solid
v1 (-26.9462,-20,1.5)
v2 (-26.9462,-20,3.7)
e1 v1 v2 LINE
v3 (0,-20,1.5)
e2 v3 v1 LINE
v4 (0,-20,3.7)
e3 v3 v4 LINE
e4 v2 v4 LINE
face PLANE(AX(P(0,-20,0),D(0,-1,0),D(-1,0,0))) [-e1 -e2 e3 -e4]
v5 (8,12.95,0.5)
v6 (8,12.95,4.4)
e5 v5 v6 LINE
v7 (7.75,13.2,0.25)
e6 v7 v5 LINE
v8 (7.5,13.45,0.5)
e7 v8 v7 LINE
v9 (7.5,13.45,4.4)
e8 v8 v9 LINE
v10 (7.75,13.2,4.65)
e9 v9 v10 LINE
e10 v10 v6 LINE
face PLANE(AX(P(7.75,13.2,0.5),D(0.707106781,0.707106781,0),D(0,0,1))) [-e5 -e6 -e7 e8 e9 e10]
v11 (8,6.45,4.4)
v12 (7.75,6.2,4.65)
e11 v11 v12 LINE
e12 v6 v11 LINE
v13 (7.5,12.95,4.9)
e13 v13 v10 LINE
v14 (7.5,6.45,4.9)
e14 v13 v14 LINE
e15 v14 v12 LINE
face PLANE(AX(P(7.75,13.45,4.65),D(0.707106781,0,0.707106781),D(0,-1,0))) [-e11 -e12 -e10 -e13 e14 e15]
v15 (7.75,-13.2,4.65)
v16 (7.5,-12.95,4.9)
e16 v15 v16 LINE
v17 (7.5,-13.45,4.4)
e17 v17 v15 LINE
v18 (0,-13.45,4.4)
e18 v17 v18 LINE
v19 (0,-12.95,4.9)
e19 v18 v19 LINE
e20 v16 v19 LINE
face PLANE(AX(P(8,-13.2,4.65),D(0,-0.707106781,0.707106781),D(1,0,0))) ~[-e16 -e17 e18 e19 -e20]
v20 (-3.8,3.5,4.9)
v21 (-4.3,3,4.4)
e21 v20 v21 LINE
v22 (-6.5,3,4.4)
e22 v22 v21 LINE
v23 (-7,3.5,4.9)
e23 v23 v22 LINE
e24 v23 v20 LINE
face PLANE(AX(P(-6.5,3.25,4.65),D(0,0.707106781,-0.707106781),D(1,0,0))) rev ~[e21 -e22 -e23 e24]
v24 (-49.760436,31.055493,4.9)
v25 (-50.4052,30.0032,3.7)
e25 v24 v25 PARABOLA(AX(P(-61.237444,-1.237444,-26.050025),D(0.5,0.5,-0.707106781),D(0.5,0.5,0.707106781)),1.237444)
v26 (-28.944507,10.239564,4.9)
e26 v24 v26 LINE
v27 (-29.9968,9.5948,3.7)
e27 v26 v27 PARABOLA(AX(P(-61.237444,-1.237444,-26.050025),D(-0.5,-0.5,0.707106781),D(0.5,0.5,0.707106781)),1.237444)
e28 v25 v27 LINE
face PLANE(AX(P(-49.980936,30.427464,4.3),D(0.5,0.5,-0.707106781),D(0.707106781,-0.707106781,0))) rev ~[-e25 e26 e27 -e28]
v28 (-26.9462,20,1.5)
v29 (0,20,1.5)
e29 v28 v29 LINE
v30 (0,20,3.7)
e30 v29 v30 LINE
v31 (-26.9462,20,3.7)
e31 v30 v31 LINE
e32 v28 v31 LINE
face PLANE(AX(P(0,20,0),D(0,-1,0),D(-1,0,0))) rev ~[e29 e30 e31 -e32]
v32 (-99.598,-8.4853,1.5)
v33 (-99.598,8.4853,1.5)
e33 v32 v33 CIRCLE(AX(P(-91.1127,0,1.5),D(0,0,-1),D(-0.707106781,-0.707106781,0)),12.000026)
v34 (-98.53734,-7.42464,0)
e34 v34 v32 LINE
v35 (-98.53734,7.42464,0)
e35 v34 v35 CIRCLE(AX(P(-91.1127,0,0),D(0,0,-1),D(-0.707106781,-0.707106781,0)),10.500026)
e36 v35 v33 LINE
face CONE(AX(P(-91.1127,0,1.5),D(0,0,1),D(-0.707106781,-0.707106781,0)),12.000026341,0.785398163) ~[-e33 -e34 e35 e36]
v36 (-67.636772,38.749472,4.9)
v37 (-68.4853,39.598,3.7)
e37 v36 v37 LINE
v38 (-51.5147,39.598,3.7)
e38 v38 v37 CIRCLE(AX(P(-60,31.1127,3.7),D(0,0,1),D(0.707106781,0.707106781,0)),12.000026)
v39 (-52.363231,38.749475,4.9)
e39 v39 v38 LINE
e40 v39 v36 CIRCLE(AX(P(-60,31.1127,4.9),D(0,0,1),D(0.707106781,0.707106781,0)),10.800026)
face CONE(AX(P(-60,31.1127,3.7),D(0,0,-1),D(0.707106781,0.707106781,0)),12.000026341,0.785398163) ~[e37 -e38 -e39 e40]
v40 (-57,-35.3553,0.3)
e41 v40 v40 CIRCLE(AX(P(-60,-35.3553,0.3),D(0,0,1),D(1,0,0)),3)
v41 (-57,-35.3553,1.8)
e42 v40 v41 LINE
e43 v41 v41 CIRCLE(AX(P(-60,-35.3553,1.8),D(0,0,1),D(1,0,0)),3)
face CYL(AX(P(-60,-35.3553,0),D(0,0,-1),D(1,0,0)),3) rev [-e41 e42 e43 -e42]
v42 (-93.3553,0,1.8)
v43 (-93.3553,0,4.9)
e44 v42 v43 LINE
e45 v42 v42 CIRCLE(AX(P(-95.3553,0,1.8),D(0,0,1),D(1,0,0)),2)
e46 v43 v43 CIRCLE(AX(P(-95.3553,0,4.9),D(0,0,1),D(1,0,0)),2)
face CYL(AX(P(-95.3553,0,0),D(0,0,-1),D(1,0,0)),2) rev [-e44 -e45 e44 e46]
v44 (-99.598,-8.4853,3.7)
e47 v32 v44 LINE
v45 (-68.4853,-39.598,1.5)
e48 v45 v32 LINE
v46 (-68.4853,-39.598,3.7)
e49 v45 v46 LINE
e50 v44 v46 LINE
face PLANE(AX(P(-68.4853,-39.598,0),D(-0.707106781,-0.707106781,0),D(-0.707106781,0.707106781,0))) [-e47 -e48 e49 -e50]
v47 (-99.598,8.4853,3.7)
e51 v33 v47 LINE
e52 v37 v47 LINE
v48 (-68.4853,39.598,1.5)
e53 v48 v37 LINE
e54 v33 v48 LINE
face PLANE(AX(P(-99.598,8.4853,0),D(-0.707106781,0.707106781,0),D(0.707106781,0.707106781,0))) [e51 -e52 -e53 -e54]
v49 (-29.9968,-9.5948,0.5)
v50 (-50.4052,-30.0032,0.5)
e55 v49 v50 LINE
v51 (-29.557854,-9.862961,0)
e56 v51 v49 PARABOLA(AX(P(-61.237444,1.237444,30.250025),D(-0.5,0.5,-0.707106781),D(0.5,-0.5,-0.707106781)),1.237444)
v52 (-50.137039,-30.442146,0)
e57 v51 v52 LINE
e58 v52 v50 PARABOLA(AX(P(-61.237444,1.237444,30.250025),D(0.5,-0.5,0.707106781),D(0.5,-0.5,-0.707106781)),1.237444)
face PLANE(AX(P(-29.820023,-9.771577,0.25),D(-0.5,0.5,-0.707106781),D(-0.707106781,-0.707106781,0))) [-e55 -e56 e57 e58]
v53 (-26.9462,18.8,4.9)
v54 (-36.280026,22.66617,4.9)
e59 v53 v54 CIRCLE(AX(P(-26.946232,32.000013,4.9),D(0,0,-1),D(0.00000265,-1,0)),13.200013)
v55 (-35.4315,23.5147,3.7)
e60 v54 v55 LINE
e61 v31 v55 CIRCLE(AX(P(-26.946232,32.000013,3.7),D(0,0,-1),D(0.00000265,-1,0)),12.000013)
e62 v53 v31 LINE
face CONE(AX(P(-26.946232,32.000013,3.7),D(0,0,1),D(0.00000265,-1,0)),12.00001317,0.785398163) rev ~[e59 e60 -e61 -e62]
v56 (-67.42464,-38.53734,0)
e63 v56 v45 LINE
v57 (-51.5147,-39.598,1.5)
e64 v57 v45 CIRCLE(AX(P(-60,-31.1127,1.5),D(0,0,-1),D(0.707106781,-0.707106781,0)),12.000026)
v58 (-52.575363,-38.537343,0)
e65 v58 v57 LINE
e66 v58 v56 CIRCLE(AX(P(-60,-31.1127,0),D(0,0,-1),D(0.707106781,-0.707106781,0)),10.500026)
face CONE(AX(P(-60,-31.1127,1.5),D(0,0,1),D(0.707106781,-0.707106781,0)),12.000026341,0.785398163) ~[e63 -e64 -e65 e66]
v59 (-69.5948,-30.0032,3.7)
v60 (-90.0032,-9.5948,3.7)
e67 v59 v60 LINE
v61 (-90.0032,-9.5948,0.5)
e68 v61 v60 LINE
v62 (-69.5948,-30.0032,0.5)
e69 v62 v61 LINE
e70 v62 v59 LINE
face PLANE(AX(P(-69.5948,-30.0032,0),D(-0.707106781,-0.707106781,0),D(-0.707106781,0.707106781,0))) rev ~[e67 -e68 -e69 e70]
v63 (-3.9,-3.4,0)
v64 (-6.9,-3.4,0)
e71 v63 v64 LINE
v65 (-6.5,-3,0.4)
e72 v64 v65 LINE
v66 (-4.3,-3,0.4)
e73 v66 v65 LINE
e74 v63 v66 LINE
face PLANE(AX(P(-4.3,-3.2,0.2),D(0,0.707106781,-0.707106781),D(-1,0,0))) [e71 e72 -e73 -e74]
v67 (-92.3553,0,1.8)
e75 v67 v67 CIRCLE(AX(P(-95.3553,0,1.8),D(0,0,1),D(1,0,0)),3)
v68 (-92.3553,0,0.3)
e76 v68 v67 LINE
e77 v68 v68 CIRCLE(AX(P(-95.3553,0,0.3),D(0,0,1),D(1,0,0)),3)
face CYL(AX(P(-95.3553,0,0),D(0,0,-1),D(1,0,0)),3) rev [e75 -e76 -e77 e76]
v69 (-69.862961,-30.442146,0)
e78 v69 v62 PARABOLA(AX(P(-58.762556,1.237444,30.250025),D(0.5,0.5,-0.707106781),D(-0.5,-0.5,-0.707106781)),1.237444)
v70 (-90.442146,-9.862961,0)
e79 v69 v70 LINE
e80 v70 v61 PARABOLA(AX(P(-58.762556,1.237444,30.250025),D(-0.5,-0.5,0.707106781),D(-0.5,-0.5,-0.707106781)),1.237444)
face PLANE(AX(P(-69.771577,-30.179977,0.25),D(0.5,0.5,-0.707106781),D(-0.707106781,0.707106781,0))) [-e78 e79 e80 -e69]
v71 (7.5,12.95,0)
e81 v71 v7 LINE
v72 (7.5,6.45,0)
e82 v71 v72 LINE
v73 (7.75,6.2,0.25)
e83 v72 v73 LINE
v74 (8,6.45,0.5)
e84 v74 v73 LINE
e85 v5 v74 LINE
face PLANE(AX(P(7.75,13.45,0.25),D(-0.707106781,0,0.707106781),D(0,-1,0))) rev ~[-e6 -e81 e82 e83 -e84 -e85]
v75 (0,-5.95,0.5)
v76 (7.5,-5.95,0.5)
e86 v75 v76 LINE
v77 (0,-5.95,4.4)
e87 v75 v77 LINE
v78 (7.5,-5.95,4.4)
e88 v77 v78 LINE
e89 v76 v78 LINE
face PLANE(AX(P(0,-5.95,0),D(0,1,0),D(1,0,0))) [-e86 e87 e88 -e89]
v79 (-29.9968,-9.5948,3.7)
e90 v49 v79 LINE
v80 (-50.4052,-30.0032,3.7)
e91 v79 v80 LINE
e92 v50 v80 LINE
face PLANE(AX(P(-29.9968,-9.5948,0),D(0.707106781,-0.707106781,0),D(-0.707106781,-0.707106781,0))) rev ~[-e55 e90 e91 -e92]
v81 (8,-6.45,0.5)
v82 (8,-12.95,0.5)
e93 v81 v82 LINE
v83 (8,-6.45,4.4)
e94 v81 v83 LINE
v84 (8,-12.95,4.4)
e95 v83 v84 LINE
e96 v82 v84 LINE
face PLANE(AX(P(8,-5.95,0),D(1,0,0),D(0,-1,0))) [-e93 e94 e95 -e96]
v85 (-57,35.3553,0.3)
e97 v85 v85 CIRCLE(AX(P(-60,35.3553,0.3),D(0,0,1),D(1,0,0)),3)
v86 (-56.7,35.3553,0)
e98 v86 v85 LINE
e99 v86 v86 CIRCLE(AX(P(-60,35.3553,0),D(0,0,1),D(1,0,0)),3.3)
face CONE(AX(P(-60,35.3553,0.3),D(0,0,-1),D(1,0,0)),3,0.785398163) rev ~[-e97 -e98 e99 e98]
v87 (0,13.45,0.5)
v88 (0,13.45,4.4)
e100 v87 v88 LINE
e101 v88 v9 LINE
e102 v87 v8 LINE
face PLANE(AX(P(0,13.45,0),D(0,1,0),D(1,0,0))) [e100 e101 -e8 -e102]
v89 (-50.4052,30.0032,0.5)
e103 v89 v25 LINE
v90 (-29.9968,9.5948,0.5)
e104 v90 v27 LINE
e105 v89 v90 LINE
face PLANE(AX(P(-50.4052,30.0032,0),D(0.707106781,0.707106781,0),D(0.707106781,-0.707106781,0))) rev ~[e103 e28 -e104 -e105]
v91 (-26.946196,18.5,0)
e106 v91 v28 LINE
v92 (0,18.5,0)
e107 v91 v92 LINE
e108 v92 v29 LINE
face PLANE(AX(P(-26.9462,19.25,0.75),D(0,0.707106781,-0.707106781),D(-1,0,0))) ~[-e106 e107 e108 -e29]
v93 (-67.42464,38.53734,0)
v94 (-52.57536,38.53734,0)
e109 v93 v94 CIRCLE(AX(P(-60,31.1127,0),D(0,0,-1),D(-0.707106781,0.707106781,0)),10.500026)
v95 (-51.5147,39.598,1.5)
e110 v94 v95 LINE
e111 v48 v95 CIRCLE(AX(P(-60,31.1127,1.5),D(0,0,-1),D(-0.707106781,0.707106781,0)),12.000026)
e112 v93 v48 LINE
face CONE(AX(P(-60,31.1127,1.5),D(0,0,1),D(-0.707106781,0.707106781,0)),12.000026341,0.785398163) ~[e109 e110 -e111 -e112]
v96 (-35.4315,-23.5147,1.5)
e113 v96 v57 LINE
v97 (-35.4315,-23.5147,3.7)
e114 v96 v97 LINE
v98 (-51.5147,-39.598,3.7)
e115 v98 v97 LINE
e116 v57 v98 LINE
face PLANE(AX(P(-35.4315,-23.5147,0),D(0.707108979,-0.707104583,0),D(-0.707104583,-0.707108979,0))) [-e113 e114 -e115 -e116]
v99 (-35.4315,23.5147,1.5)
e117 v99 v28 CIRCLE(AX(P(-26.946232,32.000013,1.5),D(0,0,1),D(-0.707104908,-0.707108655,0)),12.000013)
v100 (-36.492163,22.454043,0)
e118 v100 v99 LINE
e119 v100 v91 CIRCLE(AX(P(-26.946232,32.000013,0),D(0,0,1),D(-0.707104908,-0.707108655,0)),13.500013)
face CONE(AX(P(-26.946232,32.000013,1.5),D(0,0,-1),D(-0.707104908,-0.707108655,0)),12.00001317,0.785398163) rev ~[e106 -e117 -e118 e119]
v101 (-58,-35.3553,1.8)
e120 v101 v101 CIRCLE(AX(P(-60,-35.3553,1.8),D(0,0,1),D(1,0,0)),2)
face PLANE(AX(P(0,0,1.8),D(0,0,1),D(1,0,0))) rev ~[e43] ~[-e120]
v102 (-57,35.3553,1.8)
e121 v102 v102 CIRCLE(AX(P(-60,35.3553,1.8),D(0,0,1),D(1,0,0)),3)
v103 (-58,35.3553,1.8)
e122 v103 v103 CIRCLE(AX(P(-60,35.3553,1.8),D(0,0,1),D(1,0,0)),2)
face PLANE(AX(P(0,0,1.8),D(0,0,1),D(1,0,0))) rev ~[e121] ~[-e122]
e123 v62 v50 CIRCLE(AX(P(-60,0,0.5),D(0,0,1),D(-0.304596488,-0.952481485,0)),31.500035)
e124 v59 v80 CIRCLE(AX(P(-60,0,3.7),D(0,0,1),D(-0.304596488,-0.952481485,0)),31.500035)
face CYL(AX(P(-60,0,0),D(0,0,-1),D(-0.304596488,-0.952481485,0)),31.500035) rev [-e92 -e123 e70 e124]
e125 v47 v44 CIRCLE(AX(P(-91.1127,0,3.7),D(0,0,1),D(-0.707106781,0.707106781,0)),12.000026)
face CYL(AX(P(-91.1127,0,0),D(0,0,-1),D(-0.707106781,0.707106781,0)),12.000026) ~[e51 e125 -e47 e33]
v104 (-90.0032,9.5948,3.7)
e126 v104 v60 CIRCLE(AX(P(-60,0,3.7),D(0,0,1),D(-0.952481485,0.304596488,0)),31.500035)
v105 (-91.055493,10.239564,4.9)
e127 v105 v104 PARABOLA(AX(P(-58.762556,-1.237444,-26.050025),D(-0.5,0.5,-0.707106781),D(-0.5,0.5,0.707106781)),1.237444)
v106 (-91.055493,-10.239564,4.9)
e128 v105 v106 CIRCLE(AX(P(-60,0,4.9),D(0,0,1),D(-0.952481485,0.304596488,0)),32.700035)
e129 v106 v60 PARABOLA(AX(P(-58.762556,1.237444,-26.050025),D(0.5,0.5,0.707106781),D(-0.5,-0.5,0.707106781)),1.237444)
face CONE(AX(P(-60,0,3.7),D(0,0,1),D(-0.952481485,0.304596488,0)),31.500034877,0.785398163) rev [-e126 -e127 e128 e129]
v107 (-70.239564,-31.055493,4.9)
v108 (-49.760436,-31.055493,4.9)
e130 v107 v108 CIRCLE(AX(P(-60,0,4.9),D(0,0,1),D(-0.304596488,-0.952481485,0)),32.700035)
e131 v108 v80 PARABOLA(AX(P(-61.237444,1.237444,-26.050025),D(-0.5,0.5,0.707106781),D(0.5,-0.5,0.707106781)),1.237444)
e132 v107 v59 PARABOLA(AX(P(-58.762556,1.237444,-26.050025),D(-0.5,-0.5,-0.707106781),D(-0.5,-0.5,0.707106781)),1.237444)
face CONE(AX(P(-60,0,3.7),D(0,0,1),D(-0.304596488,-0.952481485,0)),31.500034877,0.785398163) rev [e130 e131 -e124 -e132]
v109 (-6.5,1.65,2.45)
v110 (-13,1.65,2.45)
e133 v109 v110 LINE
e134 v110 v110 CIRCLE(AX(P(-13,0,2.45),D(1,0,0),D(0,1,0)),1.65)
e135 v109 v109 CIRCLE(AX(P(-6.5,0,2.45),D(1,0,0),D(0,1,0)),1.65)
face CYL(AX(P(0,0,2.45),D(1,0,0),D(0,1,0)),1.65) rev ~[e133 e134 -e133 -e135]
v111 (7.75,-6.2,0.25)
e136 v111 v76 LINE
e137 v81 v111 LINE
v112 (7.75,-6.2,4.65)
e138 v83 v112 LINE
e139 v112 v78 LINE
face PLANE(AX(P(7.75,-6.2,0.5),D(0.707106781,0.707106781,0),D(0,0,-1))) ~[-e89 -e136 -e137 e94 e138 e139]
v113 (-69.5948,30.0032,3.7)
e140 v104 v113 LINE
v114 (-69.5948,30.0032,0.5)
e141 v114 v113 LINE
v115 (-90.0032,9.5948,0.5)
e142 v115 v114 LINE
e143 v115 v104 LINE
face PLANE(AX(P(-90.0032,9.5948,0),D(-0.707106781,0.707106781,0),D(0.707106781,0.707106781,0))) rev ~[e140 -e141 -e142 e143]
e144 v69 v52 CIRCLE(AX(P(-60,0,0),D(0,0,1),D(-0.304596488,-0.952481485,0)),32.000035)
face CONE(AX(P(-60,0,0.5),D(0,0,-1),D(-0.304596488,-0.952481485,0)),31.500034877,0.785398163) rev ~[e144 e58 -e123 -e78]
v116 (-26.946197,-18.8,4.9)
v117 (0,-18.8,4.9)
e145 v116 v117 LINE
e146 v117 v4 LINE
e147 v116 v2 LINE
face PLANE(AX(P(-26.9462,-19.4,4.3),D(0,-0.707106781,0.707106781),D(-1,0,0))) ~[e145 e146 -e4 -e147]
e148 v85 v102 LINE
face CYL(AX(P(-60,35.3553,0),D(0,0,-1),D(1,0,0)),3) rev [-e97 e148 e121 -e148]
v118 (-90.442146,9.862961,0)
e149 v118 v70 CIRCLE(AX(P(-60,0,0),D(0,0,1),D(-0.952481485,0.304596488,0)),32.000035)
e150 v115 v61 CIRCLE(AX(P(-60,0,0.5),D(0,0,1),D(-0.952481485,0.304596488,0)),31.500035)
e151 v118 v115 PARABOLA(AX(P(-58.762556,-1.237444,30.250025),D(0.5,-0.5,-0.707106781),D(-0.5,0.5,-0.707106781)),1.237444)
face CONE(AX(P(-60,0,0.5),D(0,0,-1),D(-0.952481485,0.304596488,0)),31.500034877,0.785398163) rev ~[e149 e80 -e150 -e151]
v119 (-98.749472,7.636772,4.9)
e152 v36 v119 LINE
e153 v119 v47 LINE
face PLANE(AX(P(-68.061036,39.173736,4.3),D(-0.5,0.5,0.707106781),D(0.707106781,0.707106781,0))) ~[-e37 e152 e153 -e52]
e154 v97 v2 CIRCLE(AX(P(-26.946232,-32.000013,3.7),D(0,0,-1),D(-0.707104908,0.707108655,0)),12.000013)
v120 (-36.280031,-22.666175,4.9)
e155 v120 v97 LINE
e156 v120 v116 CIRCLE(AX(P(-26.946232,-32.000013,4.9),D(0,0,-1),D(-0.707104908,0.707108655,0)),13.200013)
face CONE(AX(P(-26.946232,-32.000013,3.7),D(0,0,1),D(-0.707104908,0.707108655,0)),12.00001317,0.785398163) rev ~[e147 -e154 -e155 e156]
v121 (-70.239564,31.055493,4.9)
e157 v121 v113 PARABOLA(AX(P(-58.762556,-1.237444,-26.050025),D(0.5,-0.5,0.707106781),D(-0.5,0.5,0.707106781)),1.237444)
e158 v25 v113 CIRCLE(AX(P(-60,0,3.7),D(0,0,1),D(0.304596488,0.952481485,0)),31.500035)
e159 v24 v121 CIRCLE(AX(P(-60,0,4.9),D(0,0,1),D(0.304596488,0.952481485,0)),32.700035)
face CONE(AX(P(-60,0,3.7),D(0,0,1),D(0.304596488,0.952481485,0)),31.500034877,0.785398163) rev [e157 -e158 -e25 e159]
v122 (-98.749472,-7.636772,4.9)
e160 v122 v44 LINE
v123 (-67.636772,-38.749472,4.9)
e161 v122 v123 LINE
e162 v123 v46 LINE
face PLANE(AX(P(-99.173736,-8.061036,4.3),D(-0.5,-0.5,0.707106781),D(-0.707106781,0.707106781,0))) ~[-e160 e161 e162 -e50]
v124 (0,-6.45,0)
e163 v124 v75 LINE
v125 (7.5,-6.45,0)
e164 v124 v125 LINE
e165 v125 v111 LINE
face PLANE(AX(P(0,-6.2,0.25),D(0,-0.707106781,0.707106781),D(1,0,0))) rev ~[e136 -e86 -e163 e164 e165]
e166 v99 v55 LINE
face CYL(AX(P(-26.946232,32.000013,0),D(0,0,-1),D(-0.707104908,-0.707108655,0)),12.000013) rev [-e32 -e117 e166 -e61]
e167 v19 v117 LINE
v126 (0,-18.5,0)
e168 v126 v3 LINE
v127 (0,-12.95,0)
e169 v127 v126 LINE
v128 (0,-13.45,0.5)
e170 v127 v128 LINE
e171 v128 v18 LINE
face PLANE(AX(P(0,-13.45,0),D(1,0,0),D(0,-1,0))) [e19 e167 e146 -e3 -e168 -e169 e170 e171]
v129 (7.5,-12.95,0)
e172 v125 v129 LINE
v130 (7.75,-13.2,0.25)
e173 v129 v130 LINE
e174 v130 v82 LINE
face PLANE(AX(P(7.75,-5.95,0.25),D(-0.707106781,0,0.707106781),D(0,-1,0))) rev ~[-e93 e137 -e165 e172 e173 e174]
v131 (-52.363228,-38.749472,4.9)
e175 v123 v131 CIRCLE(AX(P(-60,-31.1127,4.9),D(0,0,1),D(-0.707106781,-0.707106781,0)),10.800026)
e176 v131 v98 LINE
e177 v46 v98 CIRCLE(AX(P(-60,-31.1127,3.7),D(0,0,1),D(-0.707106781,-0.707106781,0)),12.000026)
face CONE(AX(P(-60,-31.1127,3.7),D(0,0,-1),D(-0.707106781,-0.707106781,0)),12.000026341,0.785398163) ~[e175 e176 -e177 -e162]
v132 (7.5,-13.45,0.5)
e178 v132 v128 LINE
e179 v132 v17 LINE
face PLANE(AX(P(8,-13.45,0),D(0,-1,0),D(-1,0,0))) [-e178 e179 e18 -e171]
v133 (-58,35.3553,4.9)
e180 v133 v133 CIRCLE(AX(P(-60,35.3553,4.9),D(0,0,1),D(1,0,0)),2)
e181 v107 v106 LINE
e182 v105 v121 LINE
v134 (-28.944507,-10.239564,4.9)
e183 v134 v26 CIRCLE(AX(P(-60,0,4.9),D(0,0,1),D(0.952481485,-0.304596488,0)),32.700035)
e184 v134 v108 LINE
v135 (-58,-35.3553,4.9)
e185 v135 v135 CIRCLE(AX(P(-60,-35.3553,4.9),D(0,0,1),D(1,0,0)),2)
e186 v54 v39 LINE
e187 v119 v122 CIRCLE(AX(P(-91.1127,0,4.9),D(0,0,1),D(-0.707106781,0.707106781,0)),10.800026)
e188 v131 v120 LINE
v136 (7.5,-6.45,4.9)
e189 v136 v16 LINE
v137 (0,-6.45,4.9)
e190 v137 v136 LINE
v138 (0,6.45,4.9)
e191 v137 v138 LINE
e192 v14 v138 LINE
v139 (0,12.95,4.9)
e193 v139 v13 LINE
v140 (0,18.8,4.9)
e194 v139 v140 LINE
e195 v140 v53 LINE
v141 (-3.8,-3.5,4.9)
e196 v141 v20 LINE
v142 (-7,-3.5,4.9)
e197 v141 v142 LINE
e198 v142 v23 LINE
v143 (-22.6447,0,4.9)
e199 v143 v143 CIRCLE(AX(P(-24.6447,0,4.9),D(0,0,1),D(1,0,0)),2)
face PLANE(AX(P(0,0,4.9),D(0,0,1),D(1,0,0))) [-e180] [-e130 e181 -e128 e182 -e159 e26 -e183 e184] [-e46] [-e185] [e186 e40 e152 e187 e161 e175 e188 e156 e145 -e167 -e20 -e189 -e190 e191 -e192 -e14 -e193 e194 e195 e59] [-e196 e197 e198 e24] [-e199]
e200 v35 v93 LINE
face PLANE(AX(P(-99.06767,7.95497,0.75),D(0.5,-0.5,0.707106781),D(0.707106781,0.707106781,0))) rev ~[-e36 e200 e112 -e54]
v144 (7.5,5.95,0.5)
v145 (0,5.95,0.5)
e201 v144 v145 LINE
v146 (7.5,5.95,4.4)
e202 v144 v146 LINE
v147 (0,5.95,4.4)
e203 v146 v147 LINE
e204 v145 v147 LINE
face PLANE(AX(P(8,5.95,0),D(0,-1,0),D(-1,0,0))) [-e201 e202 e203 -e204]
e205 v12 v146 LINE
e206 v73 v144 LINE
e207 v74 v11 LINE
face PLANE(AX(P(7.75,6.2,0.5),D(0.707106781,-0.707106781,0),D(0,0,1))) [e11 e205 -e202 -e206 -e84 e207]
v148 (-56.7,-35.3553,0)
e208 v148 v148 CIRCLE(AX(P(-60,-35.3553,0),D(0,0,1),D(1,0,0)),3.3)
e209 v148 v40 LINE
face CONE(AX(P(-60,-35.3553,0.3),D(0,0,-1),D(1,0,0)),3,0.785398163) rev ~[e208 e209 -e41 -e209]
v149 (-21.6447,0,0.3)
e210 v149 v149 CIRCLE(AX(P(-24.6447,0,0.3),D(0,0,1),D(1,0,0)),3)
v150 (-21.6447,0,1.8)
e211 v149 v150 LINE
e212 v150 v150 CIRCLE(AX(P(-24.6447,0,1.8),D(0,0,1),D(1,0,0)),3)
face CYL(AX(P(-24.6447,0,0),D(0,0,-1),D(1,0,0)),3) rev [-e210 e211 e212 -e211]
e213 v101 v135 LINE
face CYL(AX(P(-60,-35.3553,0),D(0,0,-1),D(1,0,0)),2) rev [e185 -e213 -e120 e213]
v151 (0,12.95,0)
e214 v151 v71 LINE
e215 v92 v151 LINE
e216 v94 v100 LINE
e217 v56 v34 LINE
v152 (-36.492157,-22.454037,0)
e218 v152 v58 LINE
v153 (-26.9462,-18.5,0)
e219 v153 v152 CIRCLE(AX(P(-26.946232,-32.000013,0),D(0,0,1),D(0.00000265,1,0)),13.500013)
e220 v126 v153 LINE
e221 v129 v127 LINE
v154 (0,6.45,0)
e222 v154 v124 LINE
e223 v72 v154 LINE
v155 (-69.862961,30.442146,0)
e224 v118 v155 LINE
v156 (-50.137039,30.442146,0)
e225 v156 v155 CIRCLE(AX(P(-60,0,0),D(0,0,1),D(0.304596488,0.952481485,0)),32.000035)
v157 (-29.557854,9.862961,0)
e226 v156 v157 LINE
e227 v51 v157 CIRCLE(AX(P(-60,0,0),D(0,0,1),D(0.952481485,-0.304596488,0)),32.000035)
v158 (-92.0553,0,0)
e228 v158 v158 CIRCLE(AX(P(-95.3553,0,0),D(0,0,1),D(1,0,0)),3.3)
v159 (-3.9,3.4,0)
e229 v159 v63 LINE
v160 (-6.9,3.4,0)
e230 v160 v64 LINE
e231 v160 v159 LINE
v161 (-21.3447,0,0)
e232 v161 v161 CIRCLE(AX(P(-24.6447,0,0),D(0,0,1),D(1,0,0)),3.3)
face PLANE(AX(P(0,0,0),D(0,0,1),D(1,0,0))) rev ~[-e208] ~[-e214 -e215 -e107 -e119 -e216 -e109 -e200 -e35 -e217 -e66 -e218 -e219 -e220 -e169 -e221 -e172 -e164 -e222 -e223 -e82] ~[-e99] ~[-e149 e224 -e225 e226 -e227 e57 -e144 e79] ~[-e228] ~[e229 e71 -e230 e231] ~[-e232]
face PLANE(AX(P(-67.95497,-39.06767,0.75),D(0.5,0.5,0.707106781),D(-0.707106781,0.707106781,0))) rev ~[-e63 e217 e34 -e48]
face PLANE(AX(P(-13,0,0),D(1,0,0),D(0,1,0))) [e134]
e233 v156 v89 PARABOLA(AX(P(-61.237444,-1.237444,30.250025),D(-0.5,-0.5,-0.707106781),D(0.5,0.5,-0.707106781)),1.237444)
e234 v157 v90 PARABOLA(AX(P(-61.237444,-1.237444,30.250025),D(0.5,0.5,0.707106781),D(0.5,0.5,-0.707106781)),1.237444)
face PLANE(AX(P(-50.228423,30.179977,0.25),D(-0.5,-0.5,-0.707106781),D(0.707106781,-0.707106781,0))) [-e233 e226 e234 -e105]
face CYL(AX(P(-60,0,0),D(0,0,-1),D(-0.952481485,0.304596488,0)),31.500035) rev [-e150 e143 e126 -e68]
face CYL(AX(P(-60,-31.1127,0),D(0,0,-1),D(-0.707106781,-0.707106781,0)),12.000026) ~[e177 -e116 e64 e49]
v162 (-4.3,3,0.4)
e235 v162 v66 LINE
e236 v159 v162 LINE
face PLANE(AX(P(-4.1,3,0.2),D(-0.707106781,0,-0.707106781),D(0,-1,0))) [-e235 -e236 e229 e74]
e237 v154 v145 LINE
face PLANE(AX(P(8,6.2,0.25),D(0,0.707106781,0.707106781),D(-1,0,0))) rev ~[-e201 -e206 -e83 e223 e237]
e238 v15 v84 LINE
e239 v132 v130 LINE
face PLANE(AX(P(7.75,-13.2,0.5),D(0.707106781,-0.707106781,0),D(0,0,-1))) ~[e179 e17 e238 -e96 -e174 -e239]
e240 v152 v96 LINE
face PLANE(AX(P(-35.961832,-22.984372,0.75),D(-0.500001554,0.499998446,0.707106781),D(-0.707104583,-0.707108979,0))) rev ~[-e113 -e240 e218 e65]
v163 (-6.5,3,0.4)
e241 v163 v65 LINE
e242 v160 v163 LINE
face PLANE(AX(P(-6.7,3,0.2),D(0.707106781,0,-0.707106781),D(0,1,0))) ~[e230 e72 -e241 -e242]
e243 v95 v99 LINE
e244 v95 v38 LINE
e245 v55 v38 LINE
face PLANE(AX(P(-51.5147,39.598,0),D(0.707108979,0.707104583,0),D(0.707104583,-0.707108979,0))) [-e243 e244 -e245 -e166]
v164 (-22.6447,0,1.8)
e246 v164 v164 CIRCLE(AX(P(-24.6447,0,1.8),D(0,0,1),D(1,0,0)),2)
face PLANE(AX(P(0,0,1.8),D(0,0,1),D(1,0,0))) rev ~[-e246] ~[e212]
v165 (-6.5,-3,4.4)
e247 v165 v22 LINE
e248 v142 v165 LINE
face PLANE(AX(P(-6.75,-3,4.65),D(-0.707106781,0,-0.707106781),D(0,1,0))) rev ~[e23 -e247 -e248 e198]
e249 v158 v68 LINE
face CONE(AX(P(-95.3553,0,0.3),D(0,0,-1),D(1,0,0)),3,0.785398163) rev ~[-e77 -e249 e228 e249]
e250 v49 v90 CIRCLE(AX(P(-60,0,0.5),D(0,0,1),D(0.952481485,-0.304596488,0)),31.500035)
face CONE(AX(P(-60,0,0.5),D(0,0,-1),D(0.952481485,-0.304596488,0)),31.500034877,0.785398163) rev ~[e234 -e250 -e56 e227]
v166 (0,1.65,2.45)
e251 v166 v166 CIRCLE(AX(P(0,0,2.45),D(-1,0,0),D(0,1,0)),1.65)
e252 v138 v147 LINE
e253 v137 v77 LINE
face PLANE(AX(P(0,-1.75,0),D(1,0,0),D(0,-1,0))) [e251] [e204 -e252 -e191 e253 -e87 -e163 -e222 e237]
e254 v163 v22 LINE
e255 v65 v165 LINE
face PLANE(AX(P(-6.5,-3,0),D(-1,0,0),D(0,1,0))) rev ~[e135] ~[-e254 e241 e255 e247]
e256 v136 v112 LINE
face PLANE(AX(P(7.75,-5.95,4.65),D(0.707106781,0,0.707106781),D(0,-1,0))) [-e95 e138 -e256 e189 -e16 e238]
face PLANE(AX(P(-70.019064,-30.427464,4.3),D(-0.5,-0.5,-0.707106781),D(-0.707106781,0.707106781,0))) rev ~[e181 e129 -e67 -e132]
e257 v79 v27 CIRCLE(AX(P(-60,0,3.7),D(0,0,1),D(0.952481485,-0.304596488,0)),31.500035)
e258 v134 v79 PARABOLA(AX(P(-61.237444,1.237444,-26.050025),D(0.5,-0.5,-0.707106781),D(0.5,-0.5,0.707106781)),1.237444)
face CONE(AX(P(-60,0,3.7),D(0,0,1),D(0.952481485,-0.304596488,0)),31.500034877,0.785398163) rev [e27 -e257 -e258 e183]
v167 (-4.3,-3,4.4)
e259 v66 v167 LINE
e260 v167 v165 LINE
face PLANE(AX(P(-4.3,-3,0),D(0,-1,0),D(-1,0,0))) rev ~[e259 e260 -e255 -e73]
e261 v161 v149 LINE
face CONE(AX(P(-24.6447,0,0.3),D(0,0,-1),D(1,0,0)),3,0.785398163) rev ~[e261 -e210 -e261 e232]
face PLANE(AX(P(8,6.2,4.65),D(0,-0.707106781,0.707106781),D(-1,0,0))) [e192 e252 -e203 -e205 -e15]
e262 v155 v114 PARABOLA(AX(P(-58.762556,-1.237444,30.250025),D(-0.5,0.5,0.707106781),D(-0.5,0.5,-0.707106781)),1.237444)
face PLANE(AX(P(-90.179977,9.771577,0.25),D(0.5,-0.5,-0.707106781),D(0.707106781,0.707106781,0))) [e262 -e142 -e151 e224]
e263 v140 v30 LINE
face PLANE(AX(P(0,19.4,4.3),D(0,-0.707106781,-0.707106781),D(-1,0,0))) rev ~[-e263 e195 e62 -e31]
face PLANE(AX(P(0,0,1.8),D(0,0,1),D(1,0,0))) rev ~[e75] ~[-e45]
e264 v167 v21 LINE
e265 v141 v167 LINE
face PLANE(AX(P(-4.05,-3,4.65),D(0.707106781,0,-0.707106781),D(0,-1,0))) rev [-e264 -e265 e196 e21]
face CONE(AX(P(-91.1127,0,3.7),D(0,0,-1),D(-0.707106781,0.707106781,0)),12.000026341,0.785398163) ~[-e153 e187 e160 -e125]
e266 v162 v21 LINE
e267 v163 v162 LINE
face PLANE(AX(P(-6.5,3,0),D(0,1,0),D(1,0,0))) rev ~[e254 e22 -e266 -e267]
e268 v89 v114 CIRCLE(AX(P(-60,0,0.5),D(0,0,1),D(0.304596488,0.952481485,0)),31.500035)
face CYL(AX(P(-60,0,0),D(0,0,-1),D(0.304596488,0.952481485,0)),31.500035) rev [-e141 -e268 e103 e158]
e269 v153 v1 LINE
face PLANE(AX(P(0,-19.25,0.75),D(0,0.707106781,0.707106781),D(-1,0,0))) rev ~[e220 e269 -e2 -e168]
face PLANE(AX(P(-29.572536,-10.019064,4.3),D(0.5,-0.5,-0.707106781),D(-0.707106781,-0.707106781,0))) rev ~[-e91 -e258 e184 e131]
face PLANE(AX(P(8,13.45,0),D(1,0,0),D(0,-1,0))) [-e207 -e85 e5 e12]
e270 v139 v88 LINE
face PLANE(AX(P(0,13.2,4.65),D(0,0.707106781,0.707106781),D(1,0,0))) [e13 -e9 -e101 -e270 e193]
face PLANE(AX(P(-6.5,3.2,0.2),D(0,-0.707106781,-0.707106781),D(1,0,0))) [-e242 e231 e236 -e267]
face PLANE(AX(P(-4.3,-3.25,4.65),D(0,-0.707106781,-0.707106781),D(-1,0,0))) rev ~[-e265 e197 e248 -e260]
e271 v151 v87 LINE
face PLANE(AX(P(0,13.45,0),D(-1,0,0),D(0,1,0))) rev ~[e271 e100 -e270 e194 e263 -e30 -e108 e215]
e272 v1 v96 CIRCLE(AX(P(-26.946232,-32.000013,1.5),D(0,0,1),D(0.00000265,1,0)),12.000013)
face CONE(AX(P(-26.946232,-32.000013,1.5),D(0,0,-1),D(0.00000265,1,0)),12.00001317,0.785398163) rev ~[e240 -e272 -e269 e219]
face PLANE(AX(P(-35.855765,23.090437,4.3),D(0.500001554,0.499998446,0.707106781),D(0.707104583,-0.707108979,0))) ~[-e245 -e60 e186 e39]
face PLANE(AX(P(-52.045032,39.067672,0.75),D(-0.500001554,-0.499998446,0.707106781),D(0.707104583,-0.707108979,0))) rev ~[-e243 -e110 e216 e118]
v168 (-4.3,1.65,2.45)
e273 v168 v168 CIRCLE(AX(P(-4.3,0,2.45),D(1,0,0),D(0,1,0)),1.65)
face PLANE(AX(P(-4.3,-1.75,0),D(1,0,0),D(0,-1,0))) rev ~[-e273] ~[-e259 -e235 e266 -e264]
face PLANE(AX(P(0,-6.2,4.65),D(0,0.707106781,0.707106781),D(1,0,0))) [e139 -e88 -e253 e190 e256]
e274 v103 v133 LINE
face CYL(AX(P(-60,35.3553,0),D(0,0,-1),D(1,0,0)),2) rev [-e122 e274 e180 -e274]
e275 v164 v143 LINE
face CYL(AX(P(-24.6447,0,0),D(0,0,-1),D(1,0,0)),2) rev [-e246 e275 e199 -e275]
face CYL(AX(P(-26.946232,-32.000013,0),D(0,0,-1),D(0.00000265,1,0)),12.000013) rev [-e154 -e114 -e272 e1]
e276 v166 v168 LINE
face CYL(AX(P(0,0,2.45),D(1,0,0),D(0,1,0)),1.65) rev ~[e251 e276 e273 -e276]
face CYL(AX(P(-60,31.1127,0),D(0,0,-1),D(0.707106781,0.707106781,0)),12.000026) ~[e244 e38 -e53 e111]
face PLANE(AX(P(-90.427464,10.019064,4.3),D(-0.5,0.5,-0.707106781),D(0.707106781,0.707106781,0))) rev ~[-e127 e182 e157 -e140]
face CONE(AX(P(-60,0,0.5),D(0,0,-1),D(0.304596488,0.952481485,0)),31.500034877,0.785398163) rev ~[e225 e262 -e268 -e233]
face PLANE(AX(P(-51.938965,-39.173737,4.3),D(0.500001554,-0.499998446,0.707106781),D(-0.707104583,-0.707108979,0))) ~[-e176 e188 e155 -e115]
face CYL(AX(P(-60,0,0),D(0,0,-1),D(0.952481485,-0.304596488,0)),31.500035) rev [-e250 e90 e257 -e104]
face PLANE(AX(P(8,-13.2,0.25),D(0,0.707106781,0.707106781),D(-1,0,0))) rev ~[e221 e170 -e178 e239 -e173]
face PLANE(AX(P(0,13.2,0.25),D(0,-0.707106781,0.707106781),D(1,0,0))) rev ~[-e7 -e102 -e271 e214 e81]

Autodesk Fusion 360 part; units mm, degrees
sketch "Skizze3" plane through (0, 0, 0) normal (0, 0, 1) x (1, 0, 0)
  line L0 (-4.3, -3) -> (-6.5, -3)
  line L1 (-6.5, -3) -> (-6.5, -1.75)
  line L2 (-6.5, 3) -> (-4.3, 3)
  line L3 (-12, -1.75) -> (-12, 1.75)
  line L4 (-6.5, 1.75) -> (-6.5, 3)
  line L5 (-4.3, -1.75) -> (-4.3, -3)
  line L6 (-4.3, 1.75) -> (0, 1.75)
  line L7 (-6.5, -1.75) -> (-12, -1.75)
  line L8 (0, -1.75) -> (0, -5.85)
  line L9 (-12, 1.75) -> (-6.5, 1.75)
  line L10 (0, -1.75) -> (-4.3, -1.75)
  line L11 (-4.3, 3) -> (-4.3, 1.75)
  line L12 (0, 5.85) -> (0, 1.75)
  line L13 (8, 5.95) -> (0, 5.95)
  line L14 (0, 13.45) -> (8, 13.45)
  line L15 (0, -5.95) -> (8, -5.95)
  line L16 (8, -5.95) -> (8, -13.45)
  line L17 (0, 5.95) -> (0, 1.75)
  line L18 (8, -13.45) -> (0, -13.45)
  line L19 (0, -1.75) -> (0, -5.95)
  line L20 (8, 13.45) -> (8, 5.95)
  line L21 (0, -13.45) -> (8, -13.45)
  line L22 (-90.0032, 9.5948) -> (-69.5948, 30.0032)
  line L23 (-50.4052, 30.0032) -> (-29.9968, 9.5948)
  line L24 (-29.9968, -9.5948) -> (-50.4052, -30.0032)
  line L25 (-69.5948, -30.0032) -> (-90.0032, -9.5948)
  arc A0 (-50.4052, 30.0032) -> (-69.5948, 30.0032) centre (-60, 0) ccw
  arc A1 (-90.0032, 9.5948) -> (-90.0032, -9.5948) centre (-60, 0) ccw
  arc A2 (-69.5948, -30.0032) -> (-50.4052, -30.0032) centre (-60, 0) ccw
  arc A3 (-29.9968, -9.5948) -> (-29.9968, 9.5948) centre (-60, 0) ccw
  line L26 (-99.598, 8.4853) -> (-68.4853, 39.598)
  line L27 (-68.4853, -39.598) -> (-99.598, -8.4853)
  line L28 (-35.4315, -23.5147) -> (-51.5147, -39.598)
  line L29 (-51.5147, 39.598) -> (-35.4315, 23.5147)
  arc A4 (-99.598, 8.4853) -> (-99.598, -8.4853) centre (-91.1127, 0) ccw
  arc A5 (-51.5147, 39.598) -> (-68.4853, 39.598) centre (-60, 31.1127) ccw
  arc A6 (-68.4853, -39.598) -> (-51.5147, -39.598) centre (-60, -31.1127) ccw
  line L30 (0, 13.45) -> (0, 20)
  line L31 (0, 20) -> (-26.9462, 20)
  line L32 (0, -13.45) -> (0, -20)
  line L33 (0, -20) -> (-26.9462, -20)
  arc A7 (-35.4315, 23.5147) -> (-26.9462, 20) centre (-26.9462, 32) ccw
  arc A8 (-26.9462, -20) -> (-35.4315, -23.5147) centre (-26.9462, -32) ccw
  line L34 (-6.5, 1.75) -> (-6.5, -1.75)
  line L35 (-4.3, 1.75) -> (-4.3, -1.75)
  line L36 (0, 1.75) -> (0, -1.75)
  line L37 (0, 13.45) -> (0, 5.95)
  line L38 (0, -5.95) -> (0, -13.45)
  circle A9 centre (-95.3553, 0) radius 3
  circle A10 centre (-60, -35.3553) radius 3
  circle A11 centre (-24.6447, 0) radius 3
  circle A12 centre (-60, 35.3553) radius 3
  circle A13 centre (-60, -35.3553) radius 2
  circle A14 centre (-95.3553, 0) radius 2
  circle A15 centre (-24.6447, 0) radius 2
  circle A16 centre (-60, 35.3553) radius 2
  point P0 (-102.4264, 0)
  point P1 (-60, -42.4264)
  dimension "d10" = 12
sketch "Skizze8" plane through (0, 0, 0) normal (1, 0, 0) x (0, 1, 0)
  line L0 (20, 0) -> (20, 2)
  line L1 (20, 2) -> (-5.95, 2)
  line L2 (-5.95, 2) -> (-5.95, 0)
  circle A0 centre (0, 2.45) radius 1.65
  line L3 (-5.95, 0) -> (20, 0)
extrude "Extrusion8" add sketch "Skizze3" along normal blind 4.9 contours L0 L1 L2 L3 L4 L5 L6 L7 L8 L9 L10 L11 L12 L17 L19 L26 L27 L28 L29 A4 A5 A6 L30 L31 L32 L33 A7 A8 L37 L38 | L6 L10 L35 L36 | L3 L7 L9 L34 | L15 L16 L18 L21 L38 | L13 L14 L20 L37 | A9 | A10 | A11 | A12
extrude "Extrusion9" cut sketch "Skizze8" against normal blind 13 contours L1 A0 | L1 A0
extrude "Extrusion10" cut sketch "Skizze3" along normal blind 1.8 contours A9 | A10 | A11 | A12
chamfer "Fase3" distance 1.5 angle 45 11 edges at (-13.4731, -20, 0) (-31.5384, -20.9134, 0) (-43.4731, -31.5563, 0) (-60, -43.1127, 0) (-84.0416, -24.0416, 0) (-103.1127, 0, 0) (-84.0416, 24.0416, 0) (-60, 43.1127, 0) (-43.4731, 31.5563, 0) (-31.5384, 20.9134, 0) (-13.4731, 20, 0)
chamfer "Fase4" distance 0.5 angle 45 8 edges at (-60, -31.5, 0) (-79.799, -19.799, 0) (-91.5, 0, 0) (-79.799, 19.799, 0) (-60, 31.5, 0) (-40.201, 19.799, 0) (-28.5, 0, 0) (-40.201, -19.799, 0)
chamfer "Fase5" distance 0.3 angle 45 4 edges at (-62.797, -36.4402, 0) (-27.4416, -1.0848, 0) (-62.797, 34.2705, 0) (-98.1523, -1.0848, 0)
chamfer "Fase6" distance 0.4 angle 45 4 edges at (-5.4, -3, 0) (-6.5, 0, 0) (-5.4, 3, 0) (-4.3, 0, 0)
chamfer "Fase7" distance 0.5 angle 45 6 edges at (4, -13.45, 0) (8, -9.7, 0) (4, -5.95, 0) (4, 5.95, 0) (8, 9.7, 0) (4, 13.45, 0)
chamfer "Fase8" distance 0.5 angle 45 10 edges at (-6.5, 0, 4.9) (-5.4, -3, 4.9) (-4.3, 0, 4.9) (-5.4, 3, 4.9) (4, 13.45, 4.9) (8, 9.7, 4.9) (4, 5.95, 4.9) (4, -5.95, 4.9) (4, -13.45, 4.9) (8, -9.7, 4.9)
chamfer "Fase9" distance 0.5 angle 45 4 edges at (8, 13.45, 2.45) (8, 5.95, 2.45) (8, -5.95, 2.45) (8, -13.45, 2.45)
chamfer "Fase10" distance 1.2 angle 45 8 edges at (-79.799, -19.799, 4.9) (-91.5, 0, 4.9) (-79.799, 19.799, 4.9) (-60, 31.5, 4.9) (-40.201, 19.799, 4.9) (-28.5, 0, 4.9) (-40.201, -19.799, 4.9) (-60, -31.5, 4.9)
chamfer "Fase11" distance 1.2 angle 45 11 edges at (-13.4731, 20, 4.9) (-31.5384, 20.9134, 4.9) (-43.4731, 31.5563, 4.9) (-60, 43.1127, 4.9) (-84.0416, 24.0416, 4.9) (-103.1127, 0, 4.9) (-84.0416, -24.0416, 4.9) (-60, -43.1127, 4.9) (-43.4731, -31.5563, 4.9) (-31.5384, -20.9134, 4.9) (-13.4731, -20, 4.9)
